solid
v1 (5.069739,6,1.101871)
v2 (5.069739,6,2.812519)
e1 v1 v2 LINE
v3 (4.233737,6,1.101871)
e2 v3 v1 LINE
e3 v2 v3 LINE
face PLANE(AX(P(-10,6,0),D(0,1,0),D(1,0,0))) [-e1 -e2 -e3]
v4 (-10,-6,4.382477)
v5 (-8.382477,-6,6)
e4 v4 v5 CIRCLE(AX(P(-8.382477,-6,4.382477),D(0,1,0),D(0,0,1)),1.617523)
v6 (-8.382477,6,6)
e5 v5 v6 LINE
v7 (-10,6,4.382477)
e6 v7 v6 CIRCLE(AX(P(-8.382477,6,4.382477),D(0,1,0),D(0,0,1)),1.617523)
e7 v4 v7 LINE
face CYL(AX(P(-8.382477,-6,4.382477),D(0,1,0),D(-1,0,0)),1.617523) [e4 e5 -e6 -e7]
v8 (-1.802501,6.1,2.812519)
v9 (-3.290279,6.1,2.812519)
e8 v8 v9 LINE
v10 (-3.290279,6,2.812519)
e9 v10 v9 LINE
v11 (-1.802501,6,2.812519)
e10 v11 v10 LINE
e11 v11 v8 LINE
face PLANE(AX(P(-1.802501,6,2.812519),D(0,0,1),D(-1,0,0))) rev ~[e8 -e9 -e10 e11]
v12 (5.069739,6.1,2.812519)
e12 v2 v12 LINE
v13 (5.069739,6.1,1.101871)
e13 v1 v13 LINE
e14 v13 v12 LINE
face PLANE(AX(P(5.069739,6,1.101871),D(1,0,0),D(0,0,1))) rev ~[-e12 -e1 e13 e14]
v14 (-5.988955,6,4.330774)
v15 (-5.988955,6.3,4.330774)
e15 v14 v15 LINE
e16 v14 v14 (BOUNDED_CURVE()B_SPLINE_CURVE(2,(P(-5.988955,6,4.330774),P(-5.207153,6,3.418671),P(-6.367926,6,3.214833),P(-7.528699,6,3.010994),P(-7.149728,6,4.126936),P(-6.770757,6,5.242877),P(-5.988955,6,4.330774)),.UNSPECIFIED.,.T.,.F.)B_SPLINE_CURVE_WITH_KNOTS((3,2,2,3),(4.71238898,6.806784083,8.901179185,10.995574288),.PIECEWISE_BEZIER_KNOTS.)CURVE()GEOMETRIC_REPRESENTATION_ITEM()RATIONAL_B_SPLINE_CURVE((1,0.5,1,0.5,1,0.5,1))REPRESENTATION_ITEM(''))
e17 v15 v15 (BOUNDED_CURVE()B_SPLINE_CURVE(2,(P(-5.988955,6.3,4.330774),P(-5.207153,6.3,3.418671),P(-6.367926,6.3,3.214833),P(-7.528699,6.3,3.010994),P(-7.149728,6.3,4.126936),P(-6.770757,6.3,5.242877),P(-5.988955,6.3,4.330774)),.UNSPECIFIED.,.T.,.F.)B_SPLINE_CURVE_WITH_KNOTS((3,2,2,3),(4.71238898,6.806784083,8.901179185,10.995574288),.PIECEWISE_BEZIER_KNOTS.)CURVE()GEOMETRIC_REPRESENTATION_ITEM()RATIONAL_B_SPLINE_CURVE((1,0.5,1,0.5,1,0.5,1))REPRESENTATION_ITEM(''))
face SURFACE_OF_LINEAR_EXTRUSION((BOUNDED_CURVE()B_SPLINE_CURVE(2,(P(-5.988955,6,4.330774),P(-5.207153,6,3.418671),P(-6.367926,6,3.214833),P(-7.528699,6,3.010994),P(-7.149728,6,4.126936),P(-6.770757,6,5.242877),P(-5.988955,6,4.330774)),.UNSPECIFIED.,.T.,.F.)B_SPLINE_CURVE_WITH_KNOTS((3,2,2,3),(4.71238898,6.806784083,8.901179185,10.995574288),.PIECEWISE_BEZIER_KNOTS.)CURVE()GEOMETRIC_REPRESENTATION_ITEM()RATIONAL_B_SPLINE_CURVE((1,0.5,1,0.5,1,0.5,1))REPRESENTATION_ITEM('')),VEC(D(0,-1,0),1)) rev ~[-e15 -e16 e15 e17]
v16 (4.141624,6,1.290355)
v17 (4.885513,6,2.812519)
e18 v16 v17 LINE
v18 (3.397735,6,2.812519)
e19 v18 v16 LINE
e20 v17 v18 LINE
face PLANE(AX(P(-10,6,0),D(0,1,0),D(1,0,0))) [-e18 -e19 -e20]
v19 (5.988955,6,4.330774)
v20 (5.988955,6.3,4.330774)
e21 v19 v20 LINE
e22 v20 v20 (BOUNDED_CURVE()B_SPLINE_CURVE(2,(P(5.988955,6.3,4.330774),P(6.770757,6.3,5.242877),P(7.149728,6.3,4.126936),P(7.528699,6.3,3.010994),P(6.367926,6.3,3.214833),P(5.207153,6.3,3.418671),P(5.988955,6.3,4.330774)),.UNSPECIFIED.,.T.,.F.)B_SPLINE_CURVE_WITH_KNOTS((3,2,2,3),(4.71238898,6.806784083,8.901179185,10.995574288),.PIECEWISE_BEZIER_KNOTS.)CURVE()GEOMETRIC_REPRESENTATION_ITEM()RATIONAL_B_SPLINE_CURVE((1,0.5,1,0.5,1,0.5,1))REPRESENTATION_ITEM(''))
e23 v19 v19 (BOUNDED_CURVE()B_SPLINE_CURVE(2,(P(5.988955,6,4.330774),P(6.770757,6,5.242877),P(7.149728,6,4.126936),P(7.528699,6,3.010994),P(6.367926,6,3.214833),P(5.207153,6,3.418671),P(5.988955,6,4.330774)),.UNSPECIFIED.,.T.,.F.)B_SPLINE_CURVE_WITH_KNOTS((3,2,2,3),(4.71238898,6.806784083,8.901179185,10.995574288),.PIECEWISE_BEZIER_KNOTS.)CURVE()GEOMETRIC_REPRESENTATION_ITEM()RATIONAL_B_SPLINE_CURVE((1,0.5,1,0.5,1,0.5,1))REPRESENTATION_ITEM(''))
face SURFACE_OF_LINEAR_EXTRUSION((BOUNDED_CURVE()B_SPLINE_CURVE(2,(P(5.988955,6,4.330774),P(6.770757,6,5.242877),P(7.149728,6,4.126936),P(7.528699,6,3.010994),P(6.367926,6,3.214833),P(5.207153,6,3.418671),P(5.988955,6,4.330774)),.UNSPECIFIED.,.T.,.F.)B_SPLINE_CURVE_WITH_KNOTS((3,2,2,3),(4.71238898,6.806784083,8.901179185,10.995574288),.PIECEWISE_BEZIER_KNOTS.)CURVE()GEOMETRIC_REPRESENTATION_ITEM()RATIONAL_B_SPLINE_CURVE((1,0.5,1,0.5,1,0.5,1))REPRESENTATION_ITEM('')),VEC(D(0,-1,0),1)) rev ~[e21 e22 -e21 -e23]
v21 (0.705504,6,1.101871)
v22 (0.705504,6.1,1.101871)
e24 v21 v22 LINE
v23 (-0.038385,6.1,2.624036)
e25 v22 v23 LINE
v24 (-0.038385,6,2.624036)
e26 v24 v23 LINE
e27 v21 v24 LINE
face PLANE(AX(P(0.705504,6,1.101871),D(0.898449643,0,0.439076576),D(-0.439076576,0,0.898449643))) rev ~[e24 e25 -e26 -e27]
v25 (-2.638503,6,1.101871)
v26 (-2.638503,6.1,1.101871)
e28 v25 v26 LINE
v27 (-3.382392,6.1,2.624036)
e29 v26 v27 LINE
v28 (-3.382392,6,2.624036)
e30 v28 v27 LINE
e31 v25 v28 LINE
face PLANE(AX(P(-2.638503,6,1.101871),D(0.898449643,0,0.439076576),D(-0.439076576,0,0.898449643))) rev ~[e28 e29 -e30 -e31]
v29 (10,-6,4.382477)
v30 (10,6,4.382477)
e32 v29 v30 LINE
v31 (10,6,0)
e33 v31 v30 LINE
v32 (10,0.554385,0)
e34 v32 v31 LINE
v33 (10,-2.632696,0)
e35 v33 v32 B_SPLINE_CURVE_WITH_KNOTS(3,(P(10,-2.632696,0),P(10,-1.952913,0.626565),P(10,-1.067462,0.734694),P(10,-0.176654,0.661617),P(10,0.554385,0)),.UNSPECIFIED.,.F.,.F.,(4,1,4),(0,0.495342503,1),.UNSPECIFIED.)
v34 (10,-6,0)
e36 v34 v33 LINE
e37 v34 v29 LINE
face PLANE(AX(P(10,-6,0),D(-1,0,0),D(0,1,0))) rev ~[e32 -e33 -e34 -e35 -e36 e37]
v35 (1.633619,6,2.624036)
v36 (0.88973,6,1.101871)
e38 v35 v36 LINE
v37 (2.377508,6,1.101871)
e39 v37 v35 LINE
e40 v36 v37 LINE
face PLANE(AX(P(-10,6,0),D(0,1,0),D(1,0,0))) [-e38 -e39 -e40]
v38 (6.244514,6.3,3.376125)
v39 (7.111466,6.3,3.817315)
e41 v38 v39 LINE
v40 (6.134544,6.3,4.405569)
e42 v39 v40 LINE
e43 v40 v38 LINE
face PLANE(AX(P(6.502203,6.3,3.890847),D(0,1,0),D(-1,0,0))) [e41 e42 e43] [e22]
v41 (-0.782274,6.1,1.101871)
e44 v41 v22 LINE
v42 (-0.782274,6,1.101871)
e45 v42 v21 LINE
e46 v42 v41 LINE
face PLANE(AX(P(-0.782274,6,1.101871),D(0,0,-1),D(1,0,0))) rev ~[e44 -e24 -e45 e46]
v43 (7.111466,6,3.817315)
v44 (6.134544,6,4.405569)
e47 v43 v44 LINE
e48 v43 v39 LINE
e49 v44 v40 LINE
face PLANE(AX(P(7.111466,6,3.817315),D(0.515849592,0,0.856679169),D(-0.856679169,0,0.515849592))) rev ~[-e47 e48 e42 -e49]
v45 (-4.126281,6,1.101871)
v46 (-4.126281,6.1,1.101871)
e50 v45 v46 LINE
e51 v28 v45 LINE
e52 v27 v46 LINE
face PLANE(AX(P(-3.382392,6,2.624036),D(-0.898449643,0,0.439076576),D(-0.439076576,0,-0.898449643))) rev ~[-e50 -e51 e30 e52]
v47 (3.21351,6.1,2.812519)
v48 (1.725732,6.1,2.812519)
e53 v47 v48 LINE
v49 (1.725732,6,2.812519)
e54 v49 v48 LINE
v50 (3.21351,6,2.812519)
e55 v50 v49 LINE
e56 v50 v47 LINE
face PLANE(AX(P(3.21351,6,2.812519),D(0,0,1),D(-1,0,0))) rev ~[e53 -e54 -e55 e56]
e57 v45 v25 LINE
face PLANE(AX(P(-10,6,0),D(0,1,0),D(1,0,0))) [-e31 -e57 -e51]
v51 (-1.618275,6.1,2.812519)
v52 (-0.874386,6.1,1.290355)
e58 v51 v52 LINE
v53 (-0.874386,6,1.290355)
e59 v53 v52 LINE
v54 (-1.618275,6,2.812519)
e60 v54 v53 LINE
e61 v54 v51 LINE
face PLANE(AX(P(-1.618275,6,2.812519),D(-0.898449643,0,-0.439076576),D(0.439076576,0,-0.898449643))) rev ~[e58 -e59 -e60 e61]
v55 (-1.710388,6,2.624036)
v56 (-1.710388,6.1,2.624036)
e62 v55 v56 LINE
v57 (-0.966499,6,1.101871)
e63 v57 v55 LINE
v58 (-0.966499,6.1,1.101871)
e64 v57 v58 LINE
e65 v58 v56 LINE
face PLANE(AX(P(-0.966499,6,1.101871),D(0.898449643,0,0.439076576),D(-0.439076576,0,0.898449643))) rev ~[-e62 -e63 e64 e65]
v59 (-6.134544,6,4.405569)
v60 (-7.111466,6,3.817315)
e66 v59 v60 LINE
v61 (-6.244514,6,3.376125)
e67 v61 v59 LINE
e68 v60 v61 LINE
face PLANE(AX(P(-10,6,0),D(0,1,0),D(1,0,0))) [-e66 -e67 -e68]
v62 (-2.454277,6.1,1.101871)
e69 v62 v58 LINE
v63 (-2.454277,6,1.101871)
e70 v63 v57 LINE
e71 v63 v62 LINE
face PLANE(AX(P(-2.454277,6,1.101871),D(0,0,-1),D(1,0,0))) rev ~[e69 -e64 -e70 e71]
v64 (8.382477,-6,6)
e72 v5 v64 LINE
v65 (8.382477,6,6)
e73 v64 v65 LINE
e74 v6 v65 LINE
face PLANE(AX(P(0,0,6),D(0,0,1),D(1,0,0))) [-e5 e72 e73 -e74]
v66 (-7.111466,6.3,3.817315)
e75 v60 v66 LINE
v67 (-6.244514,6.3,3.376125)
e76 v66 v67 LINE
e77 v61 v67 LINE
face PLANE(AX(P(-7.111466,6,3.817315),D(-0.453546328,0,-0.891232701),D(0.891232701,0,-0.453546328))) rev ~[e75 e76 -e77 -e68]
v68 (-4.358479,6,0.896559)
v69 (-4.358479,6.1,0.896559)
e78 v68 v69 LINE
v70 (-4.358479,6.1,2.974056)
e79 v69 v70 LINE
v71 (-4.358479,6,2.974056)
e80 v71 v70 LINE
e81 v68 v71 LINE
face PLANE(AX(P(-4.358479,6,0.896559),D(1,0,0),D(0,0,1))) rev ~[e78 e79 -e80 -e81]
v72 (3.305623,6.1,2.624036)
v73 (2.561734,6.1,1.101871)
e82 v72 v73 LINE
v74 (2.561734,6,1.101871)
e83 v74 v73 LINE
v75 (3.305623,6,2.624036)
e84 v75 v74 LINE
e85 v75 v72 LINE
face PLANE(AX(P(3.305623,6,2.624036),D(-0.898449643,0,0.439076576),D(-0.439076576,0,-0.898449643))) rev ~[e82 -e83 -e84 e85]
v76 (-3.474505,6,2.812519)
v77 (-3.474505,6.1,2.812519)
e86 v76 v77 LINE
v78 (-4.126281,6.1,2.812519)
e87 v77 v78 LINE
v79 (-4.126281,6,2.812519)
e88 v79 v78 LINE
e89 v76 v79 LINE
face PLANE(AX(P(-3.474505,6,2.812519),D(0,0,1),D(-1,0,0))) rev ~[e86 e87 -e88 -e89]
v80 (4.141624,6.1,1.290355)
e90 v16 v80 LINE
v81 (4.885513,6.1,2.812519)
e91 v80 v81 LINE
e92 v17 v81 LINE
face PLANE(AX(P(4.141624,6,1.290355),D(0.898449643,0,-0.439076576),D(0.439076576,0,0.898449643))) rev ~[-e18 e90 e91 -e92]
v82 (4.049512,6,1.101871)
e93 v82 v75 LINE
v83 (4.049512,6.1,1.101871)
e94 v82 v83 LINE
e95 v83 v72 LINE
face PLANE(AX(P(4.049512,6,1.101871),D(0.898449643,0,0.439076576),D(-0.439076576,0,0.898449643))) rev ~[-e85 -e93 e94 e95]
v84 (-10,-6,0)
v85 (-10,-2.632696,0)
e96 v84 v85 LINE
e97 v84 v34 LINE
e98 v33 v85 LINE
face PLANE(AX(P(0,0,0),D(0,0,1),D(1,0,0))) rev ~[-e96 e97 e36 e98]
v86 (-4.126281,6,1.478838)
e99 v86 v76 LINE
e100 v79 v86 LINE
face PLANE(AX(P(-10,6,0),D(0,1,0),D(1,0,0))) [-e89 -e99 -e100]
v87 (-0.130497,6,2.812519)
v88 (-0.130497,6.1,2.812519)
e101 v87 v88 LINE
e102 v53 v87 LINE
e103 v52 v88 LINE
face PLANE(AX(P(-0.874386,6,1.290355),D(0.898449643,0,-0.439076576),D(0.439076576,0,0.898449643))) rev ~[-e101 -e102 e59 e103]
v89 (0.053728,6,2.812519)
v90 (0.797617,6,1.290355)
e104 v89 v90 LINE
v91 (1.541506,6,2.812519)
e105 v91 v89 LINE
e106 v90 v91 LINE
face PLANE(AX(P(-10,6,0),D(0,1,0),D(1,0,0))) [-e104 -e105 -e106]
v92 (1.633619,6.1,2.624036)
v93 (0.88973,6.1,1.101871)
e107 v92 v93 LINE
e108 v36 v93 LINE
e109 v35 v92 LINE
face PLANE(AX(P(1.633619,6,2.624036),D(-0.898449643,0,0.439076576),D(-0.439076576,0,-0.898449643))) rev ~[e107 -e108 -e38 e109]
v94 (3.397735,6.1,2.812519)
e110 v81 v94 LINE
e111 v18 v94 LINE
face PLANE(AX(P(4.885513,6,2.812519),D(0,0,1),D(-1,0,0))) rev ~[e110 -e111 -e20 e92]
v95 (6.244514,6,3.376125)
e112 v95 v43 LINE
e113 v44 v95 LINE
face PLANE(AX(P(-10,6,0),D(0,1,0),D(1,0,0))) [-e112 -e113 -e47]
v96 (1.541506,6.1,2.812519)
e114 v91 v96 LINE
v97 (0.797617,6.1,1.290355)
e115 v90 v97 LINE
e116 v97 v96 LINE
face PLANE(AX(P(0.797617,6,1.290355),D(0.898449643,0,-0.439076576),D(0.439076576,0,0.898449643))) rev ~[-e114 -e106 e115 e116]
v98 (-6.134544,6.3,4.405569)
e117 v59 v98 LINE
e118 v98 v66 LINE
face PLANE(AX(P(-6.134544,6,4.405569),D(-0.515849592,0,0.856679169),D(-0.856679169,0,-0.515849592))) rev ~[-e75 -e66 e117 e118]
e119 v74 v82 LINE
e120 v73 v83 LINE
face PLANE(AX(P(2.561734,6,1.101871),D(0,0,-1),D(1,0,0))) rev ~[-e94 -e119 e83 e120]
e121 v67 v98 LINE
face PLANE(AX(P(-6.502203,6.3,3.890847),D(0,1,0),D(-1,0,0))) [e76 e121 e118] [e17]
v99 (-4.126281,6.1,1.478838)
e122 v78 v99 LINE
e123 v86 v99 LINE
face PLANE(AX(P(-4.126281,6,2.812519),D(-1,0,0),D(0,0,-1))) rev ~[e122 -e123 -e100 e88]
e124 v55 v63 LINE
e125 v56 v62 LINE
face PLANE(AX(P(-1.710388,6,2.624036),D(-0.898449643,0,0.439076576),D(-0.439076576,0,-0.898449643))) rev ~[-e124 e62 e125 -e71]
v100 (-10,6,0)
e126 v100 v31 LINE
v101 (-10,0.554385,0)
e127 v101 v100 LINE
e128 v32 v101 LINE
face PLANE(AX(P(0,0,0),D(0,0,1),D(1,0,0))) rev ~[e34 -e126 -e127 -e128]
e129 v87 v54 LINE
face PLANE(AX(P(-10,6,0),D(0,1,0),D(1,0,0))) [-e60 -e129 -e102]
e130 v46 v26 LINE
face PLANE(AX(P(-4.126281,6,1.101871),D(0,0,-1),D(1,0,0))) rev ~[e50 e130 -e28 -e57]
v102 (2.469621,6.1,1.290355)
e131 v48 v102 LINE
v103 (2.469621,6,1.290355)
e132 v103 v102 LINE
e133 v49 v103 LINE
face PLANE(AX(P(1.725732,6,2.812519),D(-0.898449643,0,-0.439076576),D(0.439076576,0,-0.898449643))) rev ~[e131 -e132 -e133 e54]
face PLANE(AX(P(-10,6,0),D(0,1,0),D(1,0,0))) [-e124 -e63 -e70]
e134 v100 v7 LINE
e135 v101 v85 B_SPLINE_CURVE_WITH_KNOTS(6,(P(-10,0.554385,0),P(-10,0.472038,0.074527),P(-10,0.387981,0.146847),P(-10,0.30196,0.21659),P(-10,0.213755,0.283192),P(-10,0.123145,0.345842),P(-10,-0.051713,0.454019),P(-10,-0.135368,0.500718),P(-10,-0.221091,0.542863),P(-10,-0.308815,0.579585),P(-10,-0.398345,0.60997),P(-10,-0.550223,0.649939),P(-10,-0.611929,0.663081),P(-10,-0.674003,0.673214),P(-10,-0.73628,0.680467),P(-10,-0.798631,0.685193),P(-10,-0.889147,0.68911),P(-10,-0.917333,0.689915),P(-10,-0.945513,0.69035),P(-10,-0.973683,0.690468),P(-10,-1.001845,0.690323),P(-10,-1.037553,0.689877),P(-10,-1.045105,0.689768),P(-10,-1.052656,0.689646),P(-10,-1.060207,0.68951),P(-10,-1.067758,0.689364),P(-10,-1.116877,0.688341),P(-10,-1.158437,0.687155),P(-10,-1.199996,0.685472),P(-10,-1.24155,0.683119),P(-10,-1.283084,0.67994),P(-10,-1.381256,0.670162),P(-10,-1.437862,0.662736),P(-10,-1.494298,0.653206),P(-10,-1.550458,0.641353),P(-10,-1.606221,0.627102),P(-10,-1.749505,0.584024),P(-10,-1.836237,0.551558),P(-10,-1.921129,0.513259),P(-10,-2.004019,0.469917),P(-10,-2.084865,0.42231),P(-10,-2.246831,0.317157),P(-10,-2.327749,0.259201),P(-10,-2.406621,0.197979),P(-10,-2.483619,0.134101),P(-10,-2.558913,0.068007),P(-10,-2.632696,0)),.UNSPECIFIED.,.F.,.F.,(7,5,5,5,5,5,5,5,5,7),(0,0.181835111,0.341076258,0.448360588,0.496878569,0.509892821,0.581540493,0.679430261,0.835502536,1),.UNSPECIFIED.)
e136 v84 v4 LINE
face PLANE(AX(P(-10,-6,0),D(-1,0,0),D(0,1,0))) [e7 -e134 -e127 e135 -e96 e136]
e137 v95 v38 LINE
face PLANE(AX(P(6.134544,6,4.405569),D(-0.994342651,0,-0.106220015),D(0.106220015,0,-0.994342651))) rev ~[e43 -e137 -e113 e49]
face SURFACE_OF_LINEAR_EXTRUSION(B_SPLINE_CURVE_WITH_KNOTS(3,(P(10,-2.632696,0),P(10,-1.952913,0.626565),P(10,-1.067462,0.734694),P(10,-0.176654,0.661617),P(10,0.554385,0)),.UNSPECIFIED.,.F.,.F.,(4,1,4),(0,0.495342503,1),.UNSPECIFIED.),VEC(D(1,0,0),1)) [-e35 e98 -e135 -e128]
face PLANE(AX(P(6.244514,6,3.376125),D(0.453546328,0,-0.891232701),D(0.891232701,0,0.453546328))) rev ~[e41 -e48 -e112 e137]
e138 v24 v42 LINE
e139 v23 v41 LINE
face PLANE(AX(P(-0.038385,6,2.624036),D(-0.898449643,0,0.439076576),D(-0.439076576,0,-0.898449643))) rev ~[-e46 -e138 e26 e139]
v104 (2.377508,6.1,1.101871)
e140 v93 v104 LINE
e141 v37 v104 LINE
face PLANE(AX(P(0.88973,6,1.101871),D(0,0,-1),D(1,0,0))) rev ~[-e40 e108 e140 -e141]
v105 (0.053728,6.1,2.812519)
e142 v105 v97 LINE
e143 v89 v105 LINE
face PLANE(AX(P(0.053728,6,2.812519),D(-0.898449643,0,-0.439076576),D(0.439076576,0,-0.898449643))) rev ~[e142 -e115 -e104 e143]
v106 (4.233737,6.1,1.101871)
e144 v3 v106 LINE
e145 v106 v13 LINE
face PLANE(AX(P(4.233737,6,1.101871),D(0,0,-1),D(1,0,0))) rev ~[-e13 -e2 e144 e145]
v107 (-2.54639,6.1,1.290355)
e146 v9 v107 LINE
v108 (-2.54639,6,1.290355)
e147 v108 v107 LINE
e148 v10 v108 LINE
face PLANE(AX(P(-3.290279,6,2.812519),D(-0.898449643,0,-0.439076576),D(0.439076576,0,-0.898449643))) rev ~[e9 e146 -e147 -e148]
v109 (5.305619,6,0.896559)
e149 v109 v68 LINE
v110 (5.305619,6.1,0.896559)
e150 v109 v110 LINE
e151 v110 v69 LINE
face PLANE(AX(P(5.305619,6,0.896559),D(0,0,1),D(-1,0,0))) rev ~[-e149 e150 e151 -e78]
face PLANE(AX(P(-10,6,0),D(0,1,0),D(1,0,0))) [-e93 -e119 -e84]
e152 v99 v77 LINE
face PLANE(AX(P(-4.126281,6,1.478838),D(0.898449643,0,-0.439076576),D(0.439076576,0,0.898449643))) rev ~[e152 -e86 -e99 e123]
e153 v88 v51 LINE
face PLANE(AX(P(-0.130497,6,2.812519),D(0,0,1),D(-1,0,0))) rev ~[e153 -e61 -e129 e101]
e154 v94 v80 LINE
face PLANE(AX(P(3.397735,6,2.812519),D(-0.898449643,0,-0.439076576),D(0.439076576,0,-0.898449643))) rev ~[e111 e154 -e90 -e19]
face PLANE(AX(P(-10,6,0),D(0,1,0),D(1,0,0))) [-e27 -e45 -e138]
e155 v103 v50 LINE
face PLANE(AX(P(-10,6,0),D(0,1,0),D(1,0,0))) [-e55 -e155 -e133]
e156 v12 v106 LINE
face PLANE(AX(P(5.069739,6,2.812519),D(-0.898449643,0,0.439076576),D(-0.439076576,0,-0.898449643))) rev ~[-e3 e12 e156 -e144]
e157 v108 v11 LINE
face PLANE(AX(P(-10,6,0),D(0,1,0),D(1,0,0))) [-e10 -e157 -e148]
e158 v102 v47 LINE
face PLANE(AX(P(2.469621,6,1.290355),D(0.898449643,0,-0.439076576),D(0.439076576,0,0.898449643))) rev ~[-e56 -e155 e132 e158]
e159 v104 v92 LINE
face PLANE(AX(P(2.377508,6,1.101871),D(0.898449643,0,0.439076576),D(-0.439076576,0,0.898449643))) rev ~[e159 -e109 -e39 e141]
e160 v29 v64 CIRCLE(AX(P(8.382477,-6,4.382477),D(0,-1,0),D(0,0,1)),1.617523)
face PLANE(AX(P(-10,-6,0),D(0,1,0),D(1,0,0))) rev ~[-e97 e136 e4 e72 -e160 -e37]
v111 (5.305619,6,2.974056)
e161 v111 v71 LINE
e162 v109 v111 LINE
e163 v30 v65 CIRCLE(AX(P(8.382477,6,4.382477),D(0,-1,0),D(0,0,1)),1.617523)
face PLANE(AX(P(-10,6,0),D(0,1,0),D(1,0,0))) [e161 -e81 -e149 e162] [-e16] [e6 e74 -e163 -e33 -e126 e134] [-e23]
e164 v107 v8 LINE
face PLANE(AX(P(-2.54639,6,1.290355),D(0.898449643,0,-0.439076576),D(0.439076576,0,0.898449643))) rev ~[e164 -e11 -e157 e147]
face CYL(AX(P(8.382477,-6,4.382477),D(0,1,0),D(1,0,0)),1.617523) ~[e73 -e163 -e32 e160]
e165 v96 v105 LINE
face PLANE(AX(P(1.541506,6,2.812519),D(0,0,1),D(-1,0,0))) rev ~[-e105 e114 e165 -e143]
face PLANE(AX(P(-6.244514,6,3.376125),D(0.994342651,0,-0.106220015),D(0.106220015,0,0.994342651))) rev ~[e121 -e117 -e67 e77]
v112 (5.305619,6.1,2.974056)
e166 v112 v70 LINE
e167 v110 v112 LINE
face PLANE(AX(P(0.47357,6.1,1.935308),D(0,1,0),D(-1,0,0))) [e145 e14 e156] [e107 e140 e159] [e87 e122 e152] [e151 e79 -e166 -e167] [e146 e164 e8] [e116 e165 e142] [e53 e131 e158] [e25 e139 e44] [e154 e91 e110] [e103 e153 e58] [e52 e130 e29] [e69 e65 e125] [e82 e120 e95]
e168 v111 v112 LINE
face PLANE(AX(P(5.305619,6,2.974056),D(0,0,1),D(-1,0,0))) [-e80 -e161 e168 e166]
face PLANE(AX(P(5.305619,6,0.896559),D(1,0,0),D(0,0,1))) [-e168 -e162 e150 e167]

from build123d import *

# Parameters (mm, degrees)
F0_W     = 20
F0_H     = 12
F1_DEPTH = 6
F2_R     = 1.6175230868
F4_DEPTH = 0.3
F5_W     = 9.6640973352
F5_H     = 2.0774973091
F6_DEPTH = 0.1
F8_DEPTH = 25


with BuildPart() as f1:
    # F0 (on Top) → F1 (new body)
    with BuildSketch(Plane.XY):
        Rectangle(F0_W, F0_H)
    extrude(amount=F1_DEPTH)

    # F2
    f2_edges = [f1.edges().sort_by_distance(p)[0] for p in [
        (10, 0, 6),
        (-10, 0, 6),
    ]]
    fillet(f2_edges, radius=F2_R)

    # F3 (on face) → F4 (join)
    with BuildSketch(Plane(origin=(0, 6, 0), x_dir=(-1, 0, 0), z_dir=(0, 1, 0))):
        with BuildLine():
            add(Edge.make_bspline(
                [(-5.9889552958, 4.3307738066), (-6.7707574457, 5.2428768765), (-7.1497281936, 4.126935614), (-7.5286989414, 3.0109943515), (-6.3679260436, 3.2148325442), (-5.2071531458, 3.4186707368), (-5.9889552958, 4.3307738066)],
                knots=[4.7123889804, 4.7123889804, 4.7123889804, 6.8067840828, 6.8067840828, 8.9011791852, 8.9011791852, 10.9955742876, 10.9955742876, 10.9955742876], degree=2, weights=[1, 0.5, 1, 0.5, 1, 0.5, 1]))
        make_face()
        Polygon((-7.1114664897, 3.8173154462), (-6.1345444992, 4.4055692852), (-6.2445141857, 3.376125358), align=None, mode=Mode.SUBTRACT)
        with BuildLine():
            add(Edge.make_bspline(
                [(5.9889552958, 4.3307738066), (5.2071531458, 3.4186707368), (6.3679260436, 3.2148325442), (7.5286989414, 3.0109943515), (7.1497281936, 4.126935614), (6.7707574457, 5.2428768765), (5.9889552958, 4.3307738066)],
                knots=[4.7123889804, 4.7123889804, 4.7123889804, 6.8067840828, 6.8067840828, 8.9011791852, 8.9011791852, 10.9955742876, 10.9955742876, 10.9955742876], degree=2, weights=[1, 0.5, 1, 0.5, 1, 0.5, 1]))
        make_face()
        Polygon((6.1345444992, 4.4055692852), (7.1114664897, 3.8173154462), (6.2445141857, 3.376125358), align=None, mode=Mode.SUBTRACT)
    extrude(amount=F4_DEPTH)

    # F5 (on face) → F6 (join)
    with BuildSketch(Plane(origin=(0, 6, 0), x_dir=(-1, 0, 0), z_dir=(0, 1, 0))):
        with Locations((-0.4735698458, 1.9353075186)):
            Rectangle(F5_W, F5_H)
        Polygon((-5.069738923, 1.1018711375), (-5.069738923, 2.8125192574), (-4.8855133355, 2.8125192574), (-3.3977353226, 2.8125192574), (-3.2135097351, 2.8125192574), (-1.7257317222, 2.8125192574), (-1.5415061347, 2.8125192574), (-0.0537281219, 2.8125192574), (0.1304974656, 2.8125192574), (1.6182754785, 2.8125192574), (1.802501066, 2.8125192574), (3.2902790789, 2.8125192574), (3.4745046664, 2.8125192574), (4.1262808791, 2.8125192574), (4.1262808791, 1.4788382144), (4.1262808791, 1.1018711375), (2.6385028662, 1.1018711375), (2.4542772787, 1.1018711375), (0.9664992658, 1.1018711375), (0.7822736783, 1.1018711375), (-0.7055043345, 1.1018711375), (-0.889729922, 1.1018711375), (-2.3775079349, 1.1018711375), (-2.5617335224, 1.1018711375), (-4.0495115353, 1.1018711375), (-4.2337371228, 1.1018711375), align=None, mode=Mode.SUBTRACT)
        Polygon((-4.8855133355, 2.8125192574), (-5.069738923, 2.8125192574), (-4.2337371228, 1.1018711375), (-4.141624329, 1.2903546759), align=None)
        Polygon((-3.3056225288, 2.624035719), (-3.3977353226, 2.8125192574), (-4.141624329, 1.2903546759), (-4.0495115353, 1.1018711375), align=None)
        Polygon((-2.4696207287, 1.2903546759), (-3.2135097351, 2.8125192574), (-3.3056225288, 2.624035719), (-2.5617335224, 1.1018711375), align=None)
        Polygon((-1.6336189285, 2.624035719), (-1.7257317222, 2.8125192574), (-2.4696207287, 1.2903546759), (-2.3775079349, 1.1018711375), align=None)
        Polygon((-0.7976171283, 1.2903546759), (-1.5415061347, 2.8125192574), (-1.6336189285, 2.624035719), (-0.889729922, 1.1018711375), align=None)
        Polygon((0.0383846719, 2.624035719), (-0.0537281219, 2.8125192574), (-0.7976171283, 1.2903546759), (-0.7055043345, 1.1018711375), align=None)
        Polygon((0.8743864721, 1.2903546759), (0.1304974656, 2.8125192574), (0.0383846719, 2.624035719), (0.7822736783, 1.1018711375), align=None)
        Polygon((1.7103882723, 2.624035719), (1.6182754785, 2.8125192574), (0.8743864721, 1.2903546759), (0.9664992658, 1.1018711375), align=None)
        Polygon((2.5463900724, 1.2903546759), (1.802501066, 2.8125192574), (1.7103882723, 2.624035719), (2.4542772787, 1.1018711375), align=None)
        Polygon((3.3823918726, 2.624035719), (3.2902790789, 2.8125192574), (2.5463900724, 1.2903546759), (2.6385028662, 1.1018711375), align=None)
        Polygon((4.1262808791, 1.4788382144), (3.4745046664, 2.8125192574), (3.3823918726, 2.624035719), (4.1262808791, 1.1018711375), align=None)
        Polygon((-4.141624329, 1.2903546759), (-4.2337371228, 1.1018711375), (-4.0495115353, 1.1018711375), align=None)
        Polygon((-3.2135097351, 2.8125192574), (-3.3977353226, 2.8125192574), (-3.3056225288, 2.624035719), align=None)
        Polygon((-2.4696207287, 1.2903546759), (-2.5617335224, 1.1018711375), (-2.3775079349, 1.1018711375), align=None)
        Polygon((-1.5415061347, 2.8125192574), (-1.7257317222, 2.8125192574), (-1.6336189285, 2.624035719), align=None)
        Polygon((-0.7976171283, 1.2903546759), (-0.889729922, 1.1018711375), (-0.7055043345, 1.1018711375), align=None)
        Polygon((0.1304974656, 2.8125192574), (-0.0537281219, 2.8125192574), (0.0383846719, 2.624035719), align=None)
        Polygon((0.8743864721, 1.2903546759), (0.7822736783, 1.1018711375), (0.9664992658, 1.1018711375), align=None)
        Polygon((1.802501066, 2.8125192574), (1.6182754785, 2.8125192574), (1.7103882723, 2.624035719), align=None)
        Polygon((2.5463900724, 1.2903546759), (2.4542772787, 1.1018711375), (2.6385028662, 1.1018711375), align=None)
        Polygon((3.4745046664, 2.8125192574), (3.2902790789, 2.8125192574), (3.3823918726, 2.624035719), align=None)
    extrude(amount=F6_DEPTH)

    # F7 (on face) → F8 (cut)
    with BuildSketch(Plane.YZ.offset(10)):
        with BuildLine():
            add(Edge.make_bspline(
                [(-2.6326957159, 0), (-1.952913386, 0.6265651125), (-1.0674622337, 0.7346938286), (-0.1766542916, 0.661617056), (0.5543848965, 0)],
                knots=[0, 0, 0, 0, 0.4953425033, 1, 1, 1, 1], degree=3))
            Line((-2.6326957159, 0), (0.5543848965, 0))
        make_face()
    extrude(amount=-F8_DEPTH, mode=Mode.SUBTRACT)


solid = f1.part
